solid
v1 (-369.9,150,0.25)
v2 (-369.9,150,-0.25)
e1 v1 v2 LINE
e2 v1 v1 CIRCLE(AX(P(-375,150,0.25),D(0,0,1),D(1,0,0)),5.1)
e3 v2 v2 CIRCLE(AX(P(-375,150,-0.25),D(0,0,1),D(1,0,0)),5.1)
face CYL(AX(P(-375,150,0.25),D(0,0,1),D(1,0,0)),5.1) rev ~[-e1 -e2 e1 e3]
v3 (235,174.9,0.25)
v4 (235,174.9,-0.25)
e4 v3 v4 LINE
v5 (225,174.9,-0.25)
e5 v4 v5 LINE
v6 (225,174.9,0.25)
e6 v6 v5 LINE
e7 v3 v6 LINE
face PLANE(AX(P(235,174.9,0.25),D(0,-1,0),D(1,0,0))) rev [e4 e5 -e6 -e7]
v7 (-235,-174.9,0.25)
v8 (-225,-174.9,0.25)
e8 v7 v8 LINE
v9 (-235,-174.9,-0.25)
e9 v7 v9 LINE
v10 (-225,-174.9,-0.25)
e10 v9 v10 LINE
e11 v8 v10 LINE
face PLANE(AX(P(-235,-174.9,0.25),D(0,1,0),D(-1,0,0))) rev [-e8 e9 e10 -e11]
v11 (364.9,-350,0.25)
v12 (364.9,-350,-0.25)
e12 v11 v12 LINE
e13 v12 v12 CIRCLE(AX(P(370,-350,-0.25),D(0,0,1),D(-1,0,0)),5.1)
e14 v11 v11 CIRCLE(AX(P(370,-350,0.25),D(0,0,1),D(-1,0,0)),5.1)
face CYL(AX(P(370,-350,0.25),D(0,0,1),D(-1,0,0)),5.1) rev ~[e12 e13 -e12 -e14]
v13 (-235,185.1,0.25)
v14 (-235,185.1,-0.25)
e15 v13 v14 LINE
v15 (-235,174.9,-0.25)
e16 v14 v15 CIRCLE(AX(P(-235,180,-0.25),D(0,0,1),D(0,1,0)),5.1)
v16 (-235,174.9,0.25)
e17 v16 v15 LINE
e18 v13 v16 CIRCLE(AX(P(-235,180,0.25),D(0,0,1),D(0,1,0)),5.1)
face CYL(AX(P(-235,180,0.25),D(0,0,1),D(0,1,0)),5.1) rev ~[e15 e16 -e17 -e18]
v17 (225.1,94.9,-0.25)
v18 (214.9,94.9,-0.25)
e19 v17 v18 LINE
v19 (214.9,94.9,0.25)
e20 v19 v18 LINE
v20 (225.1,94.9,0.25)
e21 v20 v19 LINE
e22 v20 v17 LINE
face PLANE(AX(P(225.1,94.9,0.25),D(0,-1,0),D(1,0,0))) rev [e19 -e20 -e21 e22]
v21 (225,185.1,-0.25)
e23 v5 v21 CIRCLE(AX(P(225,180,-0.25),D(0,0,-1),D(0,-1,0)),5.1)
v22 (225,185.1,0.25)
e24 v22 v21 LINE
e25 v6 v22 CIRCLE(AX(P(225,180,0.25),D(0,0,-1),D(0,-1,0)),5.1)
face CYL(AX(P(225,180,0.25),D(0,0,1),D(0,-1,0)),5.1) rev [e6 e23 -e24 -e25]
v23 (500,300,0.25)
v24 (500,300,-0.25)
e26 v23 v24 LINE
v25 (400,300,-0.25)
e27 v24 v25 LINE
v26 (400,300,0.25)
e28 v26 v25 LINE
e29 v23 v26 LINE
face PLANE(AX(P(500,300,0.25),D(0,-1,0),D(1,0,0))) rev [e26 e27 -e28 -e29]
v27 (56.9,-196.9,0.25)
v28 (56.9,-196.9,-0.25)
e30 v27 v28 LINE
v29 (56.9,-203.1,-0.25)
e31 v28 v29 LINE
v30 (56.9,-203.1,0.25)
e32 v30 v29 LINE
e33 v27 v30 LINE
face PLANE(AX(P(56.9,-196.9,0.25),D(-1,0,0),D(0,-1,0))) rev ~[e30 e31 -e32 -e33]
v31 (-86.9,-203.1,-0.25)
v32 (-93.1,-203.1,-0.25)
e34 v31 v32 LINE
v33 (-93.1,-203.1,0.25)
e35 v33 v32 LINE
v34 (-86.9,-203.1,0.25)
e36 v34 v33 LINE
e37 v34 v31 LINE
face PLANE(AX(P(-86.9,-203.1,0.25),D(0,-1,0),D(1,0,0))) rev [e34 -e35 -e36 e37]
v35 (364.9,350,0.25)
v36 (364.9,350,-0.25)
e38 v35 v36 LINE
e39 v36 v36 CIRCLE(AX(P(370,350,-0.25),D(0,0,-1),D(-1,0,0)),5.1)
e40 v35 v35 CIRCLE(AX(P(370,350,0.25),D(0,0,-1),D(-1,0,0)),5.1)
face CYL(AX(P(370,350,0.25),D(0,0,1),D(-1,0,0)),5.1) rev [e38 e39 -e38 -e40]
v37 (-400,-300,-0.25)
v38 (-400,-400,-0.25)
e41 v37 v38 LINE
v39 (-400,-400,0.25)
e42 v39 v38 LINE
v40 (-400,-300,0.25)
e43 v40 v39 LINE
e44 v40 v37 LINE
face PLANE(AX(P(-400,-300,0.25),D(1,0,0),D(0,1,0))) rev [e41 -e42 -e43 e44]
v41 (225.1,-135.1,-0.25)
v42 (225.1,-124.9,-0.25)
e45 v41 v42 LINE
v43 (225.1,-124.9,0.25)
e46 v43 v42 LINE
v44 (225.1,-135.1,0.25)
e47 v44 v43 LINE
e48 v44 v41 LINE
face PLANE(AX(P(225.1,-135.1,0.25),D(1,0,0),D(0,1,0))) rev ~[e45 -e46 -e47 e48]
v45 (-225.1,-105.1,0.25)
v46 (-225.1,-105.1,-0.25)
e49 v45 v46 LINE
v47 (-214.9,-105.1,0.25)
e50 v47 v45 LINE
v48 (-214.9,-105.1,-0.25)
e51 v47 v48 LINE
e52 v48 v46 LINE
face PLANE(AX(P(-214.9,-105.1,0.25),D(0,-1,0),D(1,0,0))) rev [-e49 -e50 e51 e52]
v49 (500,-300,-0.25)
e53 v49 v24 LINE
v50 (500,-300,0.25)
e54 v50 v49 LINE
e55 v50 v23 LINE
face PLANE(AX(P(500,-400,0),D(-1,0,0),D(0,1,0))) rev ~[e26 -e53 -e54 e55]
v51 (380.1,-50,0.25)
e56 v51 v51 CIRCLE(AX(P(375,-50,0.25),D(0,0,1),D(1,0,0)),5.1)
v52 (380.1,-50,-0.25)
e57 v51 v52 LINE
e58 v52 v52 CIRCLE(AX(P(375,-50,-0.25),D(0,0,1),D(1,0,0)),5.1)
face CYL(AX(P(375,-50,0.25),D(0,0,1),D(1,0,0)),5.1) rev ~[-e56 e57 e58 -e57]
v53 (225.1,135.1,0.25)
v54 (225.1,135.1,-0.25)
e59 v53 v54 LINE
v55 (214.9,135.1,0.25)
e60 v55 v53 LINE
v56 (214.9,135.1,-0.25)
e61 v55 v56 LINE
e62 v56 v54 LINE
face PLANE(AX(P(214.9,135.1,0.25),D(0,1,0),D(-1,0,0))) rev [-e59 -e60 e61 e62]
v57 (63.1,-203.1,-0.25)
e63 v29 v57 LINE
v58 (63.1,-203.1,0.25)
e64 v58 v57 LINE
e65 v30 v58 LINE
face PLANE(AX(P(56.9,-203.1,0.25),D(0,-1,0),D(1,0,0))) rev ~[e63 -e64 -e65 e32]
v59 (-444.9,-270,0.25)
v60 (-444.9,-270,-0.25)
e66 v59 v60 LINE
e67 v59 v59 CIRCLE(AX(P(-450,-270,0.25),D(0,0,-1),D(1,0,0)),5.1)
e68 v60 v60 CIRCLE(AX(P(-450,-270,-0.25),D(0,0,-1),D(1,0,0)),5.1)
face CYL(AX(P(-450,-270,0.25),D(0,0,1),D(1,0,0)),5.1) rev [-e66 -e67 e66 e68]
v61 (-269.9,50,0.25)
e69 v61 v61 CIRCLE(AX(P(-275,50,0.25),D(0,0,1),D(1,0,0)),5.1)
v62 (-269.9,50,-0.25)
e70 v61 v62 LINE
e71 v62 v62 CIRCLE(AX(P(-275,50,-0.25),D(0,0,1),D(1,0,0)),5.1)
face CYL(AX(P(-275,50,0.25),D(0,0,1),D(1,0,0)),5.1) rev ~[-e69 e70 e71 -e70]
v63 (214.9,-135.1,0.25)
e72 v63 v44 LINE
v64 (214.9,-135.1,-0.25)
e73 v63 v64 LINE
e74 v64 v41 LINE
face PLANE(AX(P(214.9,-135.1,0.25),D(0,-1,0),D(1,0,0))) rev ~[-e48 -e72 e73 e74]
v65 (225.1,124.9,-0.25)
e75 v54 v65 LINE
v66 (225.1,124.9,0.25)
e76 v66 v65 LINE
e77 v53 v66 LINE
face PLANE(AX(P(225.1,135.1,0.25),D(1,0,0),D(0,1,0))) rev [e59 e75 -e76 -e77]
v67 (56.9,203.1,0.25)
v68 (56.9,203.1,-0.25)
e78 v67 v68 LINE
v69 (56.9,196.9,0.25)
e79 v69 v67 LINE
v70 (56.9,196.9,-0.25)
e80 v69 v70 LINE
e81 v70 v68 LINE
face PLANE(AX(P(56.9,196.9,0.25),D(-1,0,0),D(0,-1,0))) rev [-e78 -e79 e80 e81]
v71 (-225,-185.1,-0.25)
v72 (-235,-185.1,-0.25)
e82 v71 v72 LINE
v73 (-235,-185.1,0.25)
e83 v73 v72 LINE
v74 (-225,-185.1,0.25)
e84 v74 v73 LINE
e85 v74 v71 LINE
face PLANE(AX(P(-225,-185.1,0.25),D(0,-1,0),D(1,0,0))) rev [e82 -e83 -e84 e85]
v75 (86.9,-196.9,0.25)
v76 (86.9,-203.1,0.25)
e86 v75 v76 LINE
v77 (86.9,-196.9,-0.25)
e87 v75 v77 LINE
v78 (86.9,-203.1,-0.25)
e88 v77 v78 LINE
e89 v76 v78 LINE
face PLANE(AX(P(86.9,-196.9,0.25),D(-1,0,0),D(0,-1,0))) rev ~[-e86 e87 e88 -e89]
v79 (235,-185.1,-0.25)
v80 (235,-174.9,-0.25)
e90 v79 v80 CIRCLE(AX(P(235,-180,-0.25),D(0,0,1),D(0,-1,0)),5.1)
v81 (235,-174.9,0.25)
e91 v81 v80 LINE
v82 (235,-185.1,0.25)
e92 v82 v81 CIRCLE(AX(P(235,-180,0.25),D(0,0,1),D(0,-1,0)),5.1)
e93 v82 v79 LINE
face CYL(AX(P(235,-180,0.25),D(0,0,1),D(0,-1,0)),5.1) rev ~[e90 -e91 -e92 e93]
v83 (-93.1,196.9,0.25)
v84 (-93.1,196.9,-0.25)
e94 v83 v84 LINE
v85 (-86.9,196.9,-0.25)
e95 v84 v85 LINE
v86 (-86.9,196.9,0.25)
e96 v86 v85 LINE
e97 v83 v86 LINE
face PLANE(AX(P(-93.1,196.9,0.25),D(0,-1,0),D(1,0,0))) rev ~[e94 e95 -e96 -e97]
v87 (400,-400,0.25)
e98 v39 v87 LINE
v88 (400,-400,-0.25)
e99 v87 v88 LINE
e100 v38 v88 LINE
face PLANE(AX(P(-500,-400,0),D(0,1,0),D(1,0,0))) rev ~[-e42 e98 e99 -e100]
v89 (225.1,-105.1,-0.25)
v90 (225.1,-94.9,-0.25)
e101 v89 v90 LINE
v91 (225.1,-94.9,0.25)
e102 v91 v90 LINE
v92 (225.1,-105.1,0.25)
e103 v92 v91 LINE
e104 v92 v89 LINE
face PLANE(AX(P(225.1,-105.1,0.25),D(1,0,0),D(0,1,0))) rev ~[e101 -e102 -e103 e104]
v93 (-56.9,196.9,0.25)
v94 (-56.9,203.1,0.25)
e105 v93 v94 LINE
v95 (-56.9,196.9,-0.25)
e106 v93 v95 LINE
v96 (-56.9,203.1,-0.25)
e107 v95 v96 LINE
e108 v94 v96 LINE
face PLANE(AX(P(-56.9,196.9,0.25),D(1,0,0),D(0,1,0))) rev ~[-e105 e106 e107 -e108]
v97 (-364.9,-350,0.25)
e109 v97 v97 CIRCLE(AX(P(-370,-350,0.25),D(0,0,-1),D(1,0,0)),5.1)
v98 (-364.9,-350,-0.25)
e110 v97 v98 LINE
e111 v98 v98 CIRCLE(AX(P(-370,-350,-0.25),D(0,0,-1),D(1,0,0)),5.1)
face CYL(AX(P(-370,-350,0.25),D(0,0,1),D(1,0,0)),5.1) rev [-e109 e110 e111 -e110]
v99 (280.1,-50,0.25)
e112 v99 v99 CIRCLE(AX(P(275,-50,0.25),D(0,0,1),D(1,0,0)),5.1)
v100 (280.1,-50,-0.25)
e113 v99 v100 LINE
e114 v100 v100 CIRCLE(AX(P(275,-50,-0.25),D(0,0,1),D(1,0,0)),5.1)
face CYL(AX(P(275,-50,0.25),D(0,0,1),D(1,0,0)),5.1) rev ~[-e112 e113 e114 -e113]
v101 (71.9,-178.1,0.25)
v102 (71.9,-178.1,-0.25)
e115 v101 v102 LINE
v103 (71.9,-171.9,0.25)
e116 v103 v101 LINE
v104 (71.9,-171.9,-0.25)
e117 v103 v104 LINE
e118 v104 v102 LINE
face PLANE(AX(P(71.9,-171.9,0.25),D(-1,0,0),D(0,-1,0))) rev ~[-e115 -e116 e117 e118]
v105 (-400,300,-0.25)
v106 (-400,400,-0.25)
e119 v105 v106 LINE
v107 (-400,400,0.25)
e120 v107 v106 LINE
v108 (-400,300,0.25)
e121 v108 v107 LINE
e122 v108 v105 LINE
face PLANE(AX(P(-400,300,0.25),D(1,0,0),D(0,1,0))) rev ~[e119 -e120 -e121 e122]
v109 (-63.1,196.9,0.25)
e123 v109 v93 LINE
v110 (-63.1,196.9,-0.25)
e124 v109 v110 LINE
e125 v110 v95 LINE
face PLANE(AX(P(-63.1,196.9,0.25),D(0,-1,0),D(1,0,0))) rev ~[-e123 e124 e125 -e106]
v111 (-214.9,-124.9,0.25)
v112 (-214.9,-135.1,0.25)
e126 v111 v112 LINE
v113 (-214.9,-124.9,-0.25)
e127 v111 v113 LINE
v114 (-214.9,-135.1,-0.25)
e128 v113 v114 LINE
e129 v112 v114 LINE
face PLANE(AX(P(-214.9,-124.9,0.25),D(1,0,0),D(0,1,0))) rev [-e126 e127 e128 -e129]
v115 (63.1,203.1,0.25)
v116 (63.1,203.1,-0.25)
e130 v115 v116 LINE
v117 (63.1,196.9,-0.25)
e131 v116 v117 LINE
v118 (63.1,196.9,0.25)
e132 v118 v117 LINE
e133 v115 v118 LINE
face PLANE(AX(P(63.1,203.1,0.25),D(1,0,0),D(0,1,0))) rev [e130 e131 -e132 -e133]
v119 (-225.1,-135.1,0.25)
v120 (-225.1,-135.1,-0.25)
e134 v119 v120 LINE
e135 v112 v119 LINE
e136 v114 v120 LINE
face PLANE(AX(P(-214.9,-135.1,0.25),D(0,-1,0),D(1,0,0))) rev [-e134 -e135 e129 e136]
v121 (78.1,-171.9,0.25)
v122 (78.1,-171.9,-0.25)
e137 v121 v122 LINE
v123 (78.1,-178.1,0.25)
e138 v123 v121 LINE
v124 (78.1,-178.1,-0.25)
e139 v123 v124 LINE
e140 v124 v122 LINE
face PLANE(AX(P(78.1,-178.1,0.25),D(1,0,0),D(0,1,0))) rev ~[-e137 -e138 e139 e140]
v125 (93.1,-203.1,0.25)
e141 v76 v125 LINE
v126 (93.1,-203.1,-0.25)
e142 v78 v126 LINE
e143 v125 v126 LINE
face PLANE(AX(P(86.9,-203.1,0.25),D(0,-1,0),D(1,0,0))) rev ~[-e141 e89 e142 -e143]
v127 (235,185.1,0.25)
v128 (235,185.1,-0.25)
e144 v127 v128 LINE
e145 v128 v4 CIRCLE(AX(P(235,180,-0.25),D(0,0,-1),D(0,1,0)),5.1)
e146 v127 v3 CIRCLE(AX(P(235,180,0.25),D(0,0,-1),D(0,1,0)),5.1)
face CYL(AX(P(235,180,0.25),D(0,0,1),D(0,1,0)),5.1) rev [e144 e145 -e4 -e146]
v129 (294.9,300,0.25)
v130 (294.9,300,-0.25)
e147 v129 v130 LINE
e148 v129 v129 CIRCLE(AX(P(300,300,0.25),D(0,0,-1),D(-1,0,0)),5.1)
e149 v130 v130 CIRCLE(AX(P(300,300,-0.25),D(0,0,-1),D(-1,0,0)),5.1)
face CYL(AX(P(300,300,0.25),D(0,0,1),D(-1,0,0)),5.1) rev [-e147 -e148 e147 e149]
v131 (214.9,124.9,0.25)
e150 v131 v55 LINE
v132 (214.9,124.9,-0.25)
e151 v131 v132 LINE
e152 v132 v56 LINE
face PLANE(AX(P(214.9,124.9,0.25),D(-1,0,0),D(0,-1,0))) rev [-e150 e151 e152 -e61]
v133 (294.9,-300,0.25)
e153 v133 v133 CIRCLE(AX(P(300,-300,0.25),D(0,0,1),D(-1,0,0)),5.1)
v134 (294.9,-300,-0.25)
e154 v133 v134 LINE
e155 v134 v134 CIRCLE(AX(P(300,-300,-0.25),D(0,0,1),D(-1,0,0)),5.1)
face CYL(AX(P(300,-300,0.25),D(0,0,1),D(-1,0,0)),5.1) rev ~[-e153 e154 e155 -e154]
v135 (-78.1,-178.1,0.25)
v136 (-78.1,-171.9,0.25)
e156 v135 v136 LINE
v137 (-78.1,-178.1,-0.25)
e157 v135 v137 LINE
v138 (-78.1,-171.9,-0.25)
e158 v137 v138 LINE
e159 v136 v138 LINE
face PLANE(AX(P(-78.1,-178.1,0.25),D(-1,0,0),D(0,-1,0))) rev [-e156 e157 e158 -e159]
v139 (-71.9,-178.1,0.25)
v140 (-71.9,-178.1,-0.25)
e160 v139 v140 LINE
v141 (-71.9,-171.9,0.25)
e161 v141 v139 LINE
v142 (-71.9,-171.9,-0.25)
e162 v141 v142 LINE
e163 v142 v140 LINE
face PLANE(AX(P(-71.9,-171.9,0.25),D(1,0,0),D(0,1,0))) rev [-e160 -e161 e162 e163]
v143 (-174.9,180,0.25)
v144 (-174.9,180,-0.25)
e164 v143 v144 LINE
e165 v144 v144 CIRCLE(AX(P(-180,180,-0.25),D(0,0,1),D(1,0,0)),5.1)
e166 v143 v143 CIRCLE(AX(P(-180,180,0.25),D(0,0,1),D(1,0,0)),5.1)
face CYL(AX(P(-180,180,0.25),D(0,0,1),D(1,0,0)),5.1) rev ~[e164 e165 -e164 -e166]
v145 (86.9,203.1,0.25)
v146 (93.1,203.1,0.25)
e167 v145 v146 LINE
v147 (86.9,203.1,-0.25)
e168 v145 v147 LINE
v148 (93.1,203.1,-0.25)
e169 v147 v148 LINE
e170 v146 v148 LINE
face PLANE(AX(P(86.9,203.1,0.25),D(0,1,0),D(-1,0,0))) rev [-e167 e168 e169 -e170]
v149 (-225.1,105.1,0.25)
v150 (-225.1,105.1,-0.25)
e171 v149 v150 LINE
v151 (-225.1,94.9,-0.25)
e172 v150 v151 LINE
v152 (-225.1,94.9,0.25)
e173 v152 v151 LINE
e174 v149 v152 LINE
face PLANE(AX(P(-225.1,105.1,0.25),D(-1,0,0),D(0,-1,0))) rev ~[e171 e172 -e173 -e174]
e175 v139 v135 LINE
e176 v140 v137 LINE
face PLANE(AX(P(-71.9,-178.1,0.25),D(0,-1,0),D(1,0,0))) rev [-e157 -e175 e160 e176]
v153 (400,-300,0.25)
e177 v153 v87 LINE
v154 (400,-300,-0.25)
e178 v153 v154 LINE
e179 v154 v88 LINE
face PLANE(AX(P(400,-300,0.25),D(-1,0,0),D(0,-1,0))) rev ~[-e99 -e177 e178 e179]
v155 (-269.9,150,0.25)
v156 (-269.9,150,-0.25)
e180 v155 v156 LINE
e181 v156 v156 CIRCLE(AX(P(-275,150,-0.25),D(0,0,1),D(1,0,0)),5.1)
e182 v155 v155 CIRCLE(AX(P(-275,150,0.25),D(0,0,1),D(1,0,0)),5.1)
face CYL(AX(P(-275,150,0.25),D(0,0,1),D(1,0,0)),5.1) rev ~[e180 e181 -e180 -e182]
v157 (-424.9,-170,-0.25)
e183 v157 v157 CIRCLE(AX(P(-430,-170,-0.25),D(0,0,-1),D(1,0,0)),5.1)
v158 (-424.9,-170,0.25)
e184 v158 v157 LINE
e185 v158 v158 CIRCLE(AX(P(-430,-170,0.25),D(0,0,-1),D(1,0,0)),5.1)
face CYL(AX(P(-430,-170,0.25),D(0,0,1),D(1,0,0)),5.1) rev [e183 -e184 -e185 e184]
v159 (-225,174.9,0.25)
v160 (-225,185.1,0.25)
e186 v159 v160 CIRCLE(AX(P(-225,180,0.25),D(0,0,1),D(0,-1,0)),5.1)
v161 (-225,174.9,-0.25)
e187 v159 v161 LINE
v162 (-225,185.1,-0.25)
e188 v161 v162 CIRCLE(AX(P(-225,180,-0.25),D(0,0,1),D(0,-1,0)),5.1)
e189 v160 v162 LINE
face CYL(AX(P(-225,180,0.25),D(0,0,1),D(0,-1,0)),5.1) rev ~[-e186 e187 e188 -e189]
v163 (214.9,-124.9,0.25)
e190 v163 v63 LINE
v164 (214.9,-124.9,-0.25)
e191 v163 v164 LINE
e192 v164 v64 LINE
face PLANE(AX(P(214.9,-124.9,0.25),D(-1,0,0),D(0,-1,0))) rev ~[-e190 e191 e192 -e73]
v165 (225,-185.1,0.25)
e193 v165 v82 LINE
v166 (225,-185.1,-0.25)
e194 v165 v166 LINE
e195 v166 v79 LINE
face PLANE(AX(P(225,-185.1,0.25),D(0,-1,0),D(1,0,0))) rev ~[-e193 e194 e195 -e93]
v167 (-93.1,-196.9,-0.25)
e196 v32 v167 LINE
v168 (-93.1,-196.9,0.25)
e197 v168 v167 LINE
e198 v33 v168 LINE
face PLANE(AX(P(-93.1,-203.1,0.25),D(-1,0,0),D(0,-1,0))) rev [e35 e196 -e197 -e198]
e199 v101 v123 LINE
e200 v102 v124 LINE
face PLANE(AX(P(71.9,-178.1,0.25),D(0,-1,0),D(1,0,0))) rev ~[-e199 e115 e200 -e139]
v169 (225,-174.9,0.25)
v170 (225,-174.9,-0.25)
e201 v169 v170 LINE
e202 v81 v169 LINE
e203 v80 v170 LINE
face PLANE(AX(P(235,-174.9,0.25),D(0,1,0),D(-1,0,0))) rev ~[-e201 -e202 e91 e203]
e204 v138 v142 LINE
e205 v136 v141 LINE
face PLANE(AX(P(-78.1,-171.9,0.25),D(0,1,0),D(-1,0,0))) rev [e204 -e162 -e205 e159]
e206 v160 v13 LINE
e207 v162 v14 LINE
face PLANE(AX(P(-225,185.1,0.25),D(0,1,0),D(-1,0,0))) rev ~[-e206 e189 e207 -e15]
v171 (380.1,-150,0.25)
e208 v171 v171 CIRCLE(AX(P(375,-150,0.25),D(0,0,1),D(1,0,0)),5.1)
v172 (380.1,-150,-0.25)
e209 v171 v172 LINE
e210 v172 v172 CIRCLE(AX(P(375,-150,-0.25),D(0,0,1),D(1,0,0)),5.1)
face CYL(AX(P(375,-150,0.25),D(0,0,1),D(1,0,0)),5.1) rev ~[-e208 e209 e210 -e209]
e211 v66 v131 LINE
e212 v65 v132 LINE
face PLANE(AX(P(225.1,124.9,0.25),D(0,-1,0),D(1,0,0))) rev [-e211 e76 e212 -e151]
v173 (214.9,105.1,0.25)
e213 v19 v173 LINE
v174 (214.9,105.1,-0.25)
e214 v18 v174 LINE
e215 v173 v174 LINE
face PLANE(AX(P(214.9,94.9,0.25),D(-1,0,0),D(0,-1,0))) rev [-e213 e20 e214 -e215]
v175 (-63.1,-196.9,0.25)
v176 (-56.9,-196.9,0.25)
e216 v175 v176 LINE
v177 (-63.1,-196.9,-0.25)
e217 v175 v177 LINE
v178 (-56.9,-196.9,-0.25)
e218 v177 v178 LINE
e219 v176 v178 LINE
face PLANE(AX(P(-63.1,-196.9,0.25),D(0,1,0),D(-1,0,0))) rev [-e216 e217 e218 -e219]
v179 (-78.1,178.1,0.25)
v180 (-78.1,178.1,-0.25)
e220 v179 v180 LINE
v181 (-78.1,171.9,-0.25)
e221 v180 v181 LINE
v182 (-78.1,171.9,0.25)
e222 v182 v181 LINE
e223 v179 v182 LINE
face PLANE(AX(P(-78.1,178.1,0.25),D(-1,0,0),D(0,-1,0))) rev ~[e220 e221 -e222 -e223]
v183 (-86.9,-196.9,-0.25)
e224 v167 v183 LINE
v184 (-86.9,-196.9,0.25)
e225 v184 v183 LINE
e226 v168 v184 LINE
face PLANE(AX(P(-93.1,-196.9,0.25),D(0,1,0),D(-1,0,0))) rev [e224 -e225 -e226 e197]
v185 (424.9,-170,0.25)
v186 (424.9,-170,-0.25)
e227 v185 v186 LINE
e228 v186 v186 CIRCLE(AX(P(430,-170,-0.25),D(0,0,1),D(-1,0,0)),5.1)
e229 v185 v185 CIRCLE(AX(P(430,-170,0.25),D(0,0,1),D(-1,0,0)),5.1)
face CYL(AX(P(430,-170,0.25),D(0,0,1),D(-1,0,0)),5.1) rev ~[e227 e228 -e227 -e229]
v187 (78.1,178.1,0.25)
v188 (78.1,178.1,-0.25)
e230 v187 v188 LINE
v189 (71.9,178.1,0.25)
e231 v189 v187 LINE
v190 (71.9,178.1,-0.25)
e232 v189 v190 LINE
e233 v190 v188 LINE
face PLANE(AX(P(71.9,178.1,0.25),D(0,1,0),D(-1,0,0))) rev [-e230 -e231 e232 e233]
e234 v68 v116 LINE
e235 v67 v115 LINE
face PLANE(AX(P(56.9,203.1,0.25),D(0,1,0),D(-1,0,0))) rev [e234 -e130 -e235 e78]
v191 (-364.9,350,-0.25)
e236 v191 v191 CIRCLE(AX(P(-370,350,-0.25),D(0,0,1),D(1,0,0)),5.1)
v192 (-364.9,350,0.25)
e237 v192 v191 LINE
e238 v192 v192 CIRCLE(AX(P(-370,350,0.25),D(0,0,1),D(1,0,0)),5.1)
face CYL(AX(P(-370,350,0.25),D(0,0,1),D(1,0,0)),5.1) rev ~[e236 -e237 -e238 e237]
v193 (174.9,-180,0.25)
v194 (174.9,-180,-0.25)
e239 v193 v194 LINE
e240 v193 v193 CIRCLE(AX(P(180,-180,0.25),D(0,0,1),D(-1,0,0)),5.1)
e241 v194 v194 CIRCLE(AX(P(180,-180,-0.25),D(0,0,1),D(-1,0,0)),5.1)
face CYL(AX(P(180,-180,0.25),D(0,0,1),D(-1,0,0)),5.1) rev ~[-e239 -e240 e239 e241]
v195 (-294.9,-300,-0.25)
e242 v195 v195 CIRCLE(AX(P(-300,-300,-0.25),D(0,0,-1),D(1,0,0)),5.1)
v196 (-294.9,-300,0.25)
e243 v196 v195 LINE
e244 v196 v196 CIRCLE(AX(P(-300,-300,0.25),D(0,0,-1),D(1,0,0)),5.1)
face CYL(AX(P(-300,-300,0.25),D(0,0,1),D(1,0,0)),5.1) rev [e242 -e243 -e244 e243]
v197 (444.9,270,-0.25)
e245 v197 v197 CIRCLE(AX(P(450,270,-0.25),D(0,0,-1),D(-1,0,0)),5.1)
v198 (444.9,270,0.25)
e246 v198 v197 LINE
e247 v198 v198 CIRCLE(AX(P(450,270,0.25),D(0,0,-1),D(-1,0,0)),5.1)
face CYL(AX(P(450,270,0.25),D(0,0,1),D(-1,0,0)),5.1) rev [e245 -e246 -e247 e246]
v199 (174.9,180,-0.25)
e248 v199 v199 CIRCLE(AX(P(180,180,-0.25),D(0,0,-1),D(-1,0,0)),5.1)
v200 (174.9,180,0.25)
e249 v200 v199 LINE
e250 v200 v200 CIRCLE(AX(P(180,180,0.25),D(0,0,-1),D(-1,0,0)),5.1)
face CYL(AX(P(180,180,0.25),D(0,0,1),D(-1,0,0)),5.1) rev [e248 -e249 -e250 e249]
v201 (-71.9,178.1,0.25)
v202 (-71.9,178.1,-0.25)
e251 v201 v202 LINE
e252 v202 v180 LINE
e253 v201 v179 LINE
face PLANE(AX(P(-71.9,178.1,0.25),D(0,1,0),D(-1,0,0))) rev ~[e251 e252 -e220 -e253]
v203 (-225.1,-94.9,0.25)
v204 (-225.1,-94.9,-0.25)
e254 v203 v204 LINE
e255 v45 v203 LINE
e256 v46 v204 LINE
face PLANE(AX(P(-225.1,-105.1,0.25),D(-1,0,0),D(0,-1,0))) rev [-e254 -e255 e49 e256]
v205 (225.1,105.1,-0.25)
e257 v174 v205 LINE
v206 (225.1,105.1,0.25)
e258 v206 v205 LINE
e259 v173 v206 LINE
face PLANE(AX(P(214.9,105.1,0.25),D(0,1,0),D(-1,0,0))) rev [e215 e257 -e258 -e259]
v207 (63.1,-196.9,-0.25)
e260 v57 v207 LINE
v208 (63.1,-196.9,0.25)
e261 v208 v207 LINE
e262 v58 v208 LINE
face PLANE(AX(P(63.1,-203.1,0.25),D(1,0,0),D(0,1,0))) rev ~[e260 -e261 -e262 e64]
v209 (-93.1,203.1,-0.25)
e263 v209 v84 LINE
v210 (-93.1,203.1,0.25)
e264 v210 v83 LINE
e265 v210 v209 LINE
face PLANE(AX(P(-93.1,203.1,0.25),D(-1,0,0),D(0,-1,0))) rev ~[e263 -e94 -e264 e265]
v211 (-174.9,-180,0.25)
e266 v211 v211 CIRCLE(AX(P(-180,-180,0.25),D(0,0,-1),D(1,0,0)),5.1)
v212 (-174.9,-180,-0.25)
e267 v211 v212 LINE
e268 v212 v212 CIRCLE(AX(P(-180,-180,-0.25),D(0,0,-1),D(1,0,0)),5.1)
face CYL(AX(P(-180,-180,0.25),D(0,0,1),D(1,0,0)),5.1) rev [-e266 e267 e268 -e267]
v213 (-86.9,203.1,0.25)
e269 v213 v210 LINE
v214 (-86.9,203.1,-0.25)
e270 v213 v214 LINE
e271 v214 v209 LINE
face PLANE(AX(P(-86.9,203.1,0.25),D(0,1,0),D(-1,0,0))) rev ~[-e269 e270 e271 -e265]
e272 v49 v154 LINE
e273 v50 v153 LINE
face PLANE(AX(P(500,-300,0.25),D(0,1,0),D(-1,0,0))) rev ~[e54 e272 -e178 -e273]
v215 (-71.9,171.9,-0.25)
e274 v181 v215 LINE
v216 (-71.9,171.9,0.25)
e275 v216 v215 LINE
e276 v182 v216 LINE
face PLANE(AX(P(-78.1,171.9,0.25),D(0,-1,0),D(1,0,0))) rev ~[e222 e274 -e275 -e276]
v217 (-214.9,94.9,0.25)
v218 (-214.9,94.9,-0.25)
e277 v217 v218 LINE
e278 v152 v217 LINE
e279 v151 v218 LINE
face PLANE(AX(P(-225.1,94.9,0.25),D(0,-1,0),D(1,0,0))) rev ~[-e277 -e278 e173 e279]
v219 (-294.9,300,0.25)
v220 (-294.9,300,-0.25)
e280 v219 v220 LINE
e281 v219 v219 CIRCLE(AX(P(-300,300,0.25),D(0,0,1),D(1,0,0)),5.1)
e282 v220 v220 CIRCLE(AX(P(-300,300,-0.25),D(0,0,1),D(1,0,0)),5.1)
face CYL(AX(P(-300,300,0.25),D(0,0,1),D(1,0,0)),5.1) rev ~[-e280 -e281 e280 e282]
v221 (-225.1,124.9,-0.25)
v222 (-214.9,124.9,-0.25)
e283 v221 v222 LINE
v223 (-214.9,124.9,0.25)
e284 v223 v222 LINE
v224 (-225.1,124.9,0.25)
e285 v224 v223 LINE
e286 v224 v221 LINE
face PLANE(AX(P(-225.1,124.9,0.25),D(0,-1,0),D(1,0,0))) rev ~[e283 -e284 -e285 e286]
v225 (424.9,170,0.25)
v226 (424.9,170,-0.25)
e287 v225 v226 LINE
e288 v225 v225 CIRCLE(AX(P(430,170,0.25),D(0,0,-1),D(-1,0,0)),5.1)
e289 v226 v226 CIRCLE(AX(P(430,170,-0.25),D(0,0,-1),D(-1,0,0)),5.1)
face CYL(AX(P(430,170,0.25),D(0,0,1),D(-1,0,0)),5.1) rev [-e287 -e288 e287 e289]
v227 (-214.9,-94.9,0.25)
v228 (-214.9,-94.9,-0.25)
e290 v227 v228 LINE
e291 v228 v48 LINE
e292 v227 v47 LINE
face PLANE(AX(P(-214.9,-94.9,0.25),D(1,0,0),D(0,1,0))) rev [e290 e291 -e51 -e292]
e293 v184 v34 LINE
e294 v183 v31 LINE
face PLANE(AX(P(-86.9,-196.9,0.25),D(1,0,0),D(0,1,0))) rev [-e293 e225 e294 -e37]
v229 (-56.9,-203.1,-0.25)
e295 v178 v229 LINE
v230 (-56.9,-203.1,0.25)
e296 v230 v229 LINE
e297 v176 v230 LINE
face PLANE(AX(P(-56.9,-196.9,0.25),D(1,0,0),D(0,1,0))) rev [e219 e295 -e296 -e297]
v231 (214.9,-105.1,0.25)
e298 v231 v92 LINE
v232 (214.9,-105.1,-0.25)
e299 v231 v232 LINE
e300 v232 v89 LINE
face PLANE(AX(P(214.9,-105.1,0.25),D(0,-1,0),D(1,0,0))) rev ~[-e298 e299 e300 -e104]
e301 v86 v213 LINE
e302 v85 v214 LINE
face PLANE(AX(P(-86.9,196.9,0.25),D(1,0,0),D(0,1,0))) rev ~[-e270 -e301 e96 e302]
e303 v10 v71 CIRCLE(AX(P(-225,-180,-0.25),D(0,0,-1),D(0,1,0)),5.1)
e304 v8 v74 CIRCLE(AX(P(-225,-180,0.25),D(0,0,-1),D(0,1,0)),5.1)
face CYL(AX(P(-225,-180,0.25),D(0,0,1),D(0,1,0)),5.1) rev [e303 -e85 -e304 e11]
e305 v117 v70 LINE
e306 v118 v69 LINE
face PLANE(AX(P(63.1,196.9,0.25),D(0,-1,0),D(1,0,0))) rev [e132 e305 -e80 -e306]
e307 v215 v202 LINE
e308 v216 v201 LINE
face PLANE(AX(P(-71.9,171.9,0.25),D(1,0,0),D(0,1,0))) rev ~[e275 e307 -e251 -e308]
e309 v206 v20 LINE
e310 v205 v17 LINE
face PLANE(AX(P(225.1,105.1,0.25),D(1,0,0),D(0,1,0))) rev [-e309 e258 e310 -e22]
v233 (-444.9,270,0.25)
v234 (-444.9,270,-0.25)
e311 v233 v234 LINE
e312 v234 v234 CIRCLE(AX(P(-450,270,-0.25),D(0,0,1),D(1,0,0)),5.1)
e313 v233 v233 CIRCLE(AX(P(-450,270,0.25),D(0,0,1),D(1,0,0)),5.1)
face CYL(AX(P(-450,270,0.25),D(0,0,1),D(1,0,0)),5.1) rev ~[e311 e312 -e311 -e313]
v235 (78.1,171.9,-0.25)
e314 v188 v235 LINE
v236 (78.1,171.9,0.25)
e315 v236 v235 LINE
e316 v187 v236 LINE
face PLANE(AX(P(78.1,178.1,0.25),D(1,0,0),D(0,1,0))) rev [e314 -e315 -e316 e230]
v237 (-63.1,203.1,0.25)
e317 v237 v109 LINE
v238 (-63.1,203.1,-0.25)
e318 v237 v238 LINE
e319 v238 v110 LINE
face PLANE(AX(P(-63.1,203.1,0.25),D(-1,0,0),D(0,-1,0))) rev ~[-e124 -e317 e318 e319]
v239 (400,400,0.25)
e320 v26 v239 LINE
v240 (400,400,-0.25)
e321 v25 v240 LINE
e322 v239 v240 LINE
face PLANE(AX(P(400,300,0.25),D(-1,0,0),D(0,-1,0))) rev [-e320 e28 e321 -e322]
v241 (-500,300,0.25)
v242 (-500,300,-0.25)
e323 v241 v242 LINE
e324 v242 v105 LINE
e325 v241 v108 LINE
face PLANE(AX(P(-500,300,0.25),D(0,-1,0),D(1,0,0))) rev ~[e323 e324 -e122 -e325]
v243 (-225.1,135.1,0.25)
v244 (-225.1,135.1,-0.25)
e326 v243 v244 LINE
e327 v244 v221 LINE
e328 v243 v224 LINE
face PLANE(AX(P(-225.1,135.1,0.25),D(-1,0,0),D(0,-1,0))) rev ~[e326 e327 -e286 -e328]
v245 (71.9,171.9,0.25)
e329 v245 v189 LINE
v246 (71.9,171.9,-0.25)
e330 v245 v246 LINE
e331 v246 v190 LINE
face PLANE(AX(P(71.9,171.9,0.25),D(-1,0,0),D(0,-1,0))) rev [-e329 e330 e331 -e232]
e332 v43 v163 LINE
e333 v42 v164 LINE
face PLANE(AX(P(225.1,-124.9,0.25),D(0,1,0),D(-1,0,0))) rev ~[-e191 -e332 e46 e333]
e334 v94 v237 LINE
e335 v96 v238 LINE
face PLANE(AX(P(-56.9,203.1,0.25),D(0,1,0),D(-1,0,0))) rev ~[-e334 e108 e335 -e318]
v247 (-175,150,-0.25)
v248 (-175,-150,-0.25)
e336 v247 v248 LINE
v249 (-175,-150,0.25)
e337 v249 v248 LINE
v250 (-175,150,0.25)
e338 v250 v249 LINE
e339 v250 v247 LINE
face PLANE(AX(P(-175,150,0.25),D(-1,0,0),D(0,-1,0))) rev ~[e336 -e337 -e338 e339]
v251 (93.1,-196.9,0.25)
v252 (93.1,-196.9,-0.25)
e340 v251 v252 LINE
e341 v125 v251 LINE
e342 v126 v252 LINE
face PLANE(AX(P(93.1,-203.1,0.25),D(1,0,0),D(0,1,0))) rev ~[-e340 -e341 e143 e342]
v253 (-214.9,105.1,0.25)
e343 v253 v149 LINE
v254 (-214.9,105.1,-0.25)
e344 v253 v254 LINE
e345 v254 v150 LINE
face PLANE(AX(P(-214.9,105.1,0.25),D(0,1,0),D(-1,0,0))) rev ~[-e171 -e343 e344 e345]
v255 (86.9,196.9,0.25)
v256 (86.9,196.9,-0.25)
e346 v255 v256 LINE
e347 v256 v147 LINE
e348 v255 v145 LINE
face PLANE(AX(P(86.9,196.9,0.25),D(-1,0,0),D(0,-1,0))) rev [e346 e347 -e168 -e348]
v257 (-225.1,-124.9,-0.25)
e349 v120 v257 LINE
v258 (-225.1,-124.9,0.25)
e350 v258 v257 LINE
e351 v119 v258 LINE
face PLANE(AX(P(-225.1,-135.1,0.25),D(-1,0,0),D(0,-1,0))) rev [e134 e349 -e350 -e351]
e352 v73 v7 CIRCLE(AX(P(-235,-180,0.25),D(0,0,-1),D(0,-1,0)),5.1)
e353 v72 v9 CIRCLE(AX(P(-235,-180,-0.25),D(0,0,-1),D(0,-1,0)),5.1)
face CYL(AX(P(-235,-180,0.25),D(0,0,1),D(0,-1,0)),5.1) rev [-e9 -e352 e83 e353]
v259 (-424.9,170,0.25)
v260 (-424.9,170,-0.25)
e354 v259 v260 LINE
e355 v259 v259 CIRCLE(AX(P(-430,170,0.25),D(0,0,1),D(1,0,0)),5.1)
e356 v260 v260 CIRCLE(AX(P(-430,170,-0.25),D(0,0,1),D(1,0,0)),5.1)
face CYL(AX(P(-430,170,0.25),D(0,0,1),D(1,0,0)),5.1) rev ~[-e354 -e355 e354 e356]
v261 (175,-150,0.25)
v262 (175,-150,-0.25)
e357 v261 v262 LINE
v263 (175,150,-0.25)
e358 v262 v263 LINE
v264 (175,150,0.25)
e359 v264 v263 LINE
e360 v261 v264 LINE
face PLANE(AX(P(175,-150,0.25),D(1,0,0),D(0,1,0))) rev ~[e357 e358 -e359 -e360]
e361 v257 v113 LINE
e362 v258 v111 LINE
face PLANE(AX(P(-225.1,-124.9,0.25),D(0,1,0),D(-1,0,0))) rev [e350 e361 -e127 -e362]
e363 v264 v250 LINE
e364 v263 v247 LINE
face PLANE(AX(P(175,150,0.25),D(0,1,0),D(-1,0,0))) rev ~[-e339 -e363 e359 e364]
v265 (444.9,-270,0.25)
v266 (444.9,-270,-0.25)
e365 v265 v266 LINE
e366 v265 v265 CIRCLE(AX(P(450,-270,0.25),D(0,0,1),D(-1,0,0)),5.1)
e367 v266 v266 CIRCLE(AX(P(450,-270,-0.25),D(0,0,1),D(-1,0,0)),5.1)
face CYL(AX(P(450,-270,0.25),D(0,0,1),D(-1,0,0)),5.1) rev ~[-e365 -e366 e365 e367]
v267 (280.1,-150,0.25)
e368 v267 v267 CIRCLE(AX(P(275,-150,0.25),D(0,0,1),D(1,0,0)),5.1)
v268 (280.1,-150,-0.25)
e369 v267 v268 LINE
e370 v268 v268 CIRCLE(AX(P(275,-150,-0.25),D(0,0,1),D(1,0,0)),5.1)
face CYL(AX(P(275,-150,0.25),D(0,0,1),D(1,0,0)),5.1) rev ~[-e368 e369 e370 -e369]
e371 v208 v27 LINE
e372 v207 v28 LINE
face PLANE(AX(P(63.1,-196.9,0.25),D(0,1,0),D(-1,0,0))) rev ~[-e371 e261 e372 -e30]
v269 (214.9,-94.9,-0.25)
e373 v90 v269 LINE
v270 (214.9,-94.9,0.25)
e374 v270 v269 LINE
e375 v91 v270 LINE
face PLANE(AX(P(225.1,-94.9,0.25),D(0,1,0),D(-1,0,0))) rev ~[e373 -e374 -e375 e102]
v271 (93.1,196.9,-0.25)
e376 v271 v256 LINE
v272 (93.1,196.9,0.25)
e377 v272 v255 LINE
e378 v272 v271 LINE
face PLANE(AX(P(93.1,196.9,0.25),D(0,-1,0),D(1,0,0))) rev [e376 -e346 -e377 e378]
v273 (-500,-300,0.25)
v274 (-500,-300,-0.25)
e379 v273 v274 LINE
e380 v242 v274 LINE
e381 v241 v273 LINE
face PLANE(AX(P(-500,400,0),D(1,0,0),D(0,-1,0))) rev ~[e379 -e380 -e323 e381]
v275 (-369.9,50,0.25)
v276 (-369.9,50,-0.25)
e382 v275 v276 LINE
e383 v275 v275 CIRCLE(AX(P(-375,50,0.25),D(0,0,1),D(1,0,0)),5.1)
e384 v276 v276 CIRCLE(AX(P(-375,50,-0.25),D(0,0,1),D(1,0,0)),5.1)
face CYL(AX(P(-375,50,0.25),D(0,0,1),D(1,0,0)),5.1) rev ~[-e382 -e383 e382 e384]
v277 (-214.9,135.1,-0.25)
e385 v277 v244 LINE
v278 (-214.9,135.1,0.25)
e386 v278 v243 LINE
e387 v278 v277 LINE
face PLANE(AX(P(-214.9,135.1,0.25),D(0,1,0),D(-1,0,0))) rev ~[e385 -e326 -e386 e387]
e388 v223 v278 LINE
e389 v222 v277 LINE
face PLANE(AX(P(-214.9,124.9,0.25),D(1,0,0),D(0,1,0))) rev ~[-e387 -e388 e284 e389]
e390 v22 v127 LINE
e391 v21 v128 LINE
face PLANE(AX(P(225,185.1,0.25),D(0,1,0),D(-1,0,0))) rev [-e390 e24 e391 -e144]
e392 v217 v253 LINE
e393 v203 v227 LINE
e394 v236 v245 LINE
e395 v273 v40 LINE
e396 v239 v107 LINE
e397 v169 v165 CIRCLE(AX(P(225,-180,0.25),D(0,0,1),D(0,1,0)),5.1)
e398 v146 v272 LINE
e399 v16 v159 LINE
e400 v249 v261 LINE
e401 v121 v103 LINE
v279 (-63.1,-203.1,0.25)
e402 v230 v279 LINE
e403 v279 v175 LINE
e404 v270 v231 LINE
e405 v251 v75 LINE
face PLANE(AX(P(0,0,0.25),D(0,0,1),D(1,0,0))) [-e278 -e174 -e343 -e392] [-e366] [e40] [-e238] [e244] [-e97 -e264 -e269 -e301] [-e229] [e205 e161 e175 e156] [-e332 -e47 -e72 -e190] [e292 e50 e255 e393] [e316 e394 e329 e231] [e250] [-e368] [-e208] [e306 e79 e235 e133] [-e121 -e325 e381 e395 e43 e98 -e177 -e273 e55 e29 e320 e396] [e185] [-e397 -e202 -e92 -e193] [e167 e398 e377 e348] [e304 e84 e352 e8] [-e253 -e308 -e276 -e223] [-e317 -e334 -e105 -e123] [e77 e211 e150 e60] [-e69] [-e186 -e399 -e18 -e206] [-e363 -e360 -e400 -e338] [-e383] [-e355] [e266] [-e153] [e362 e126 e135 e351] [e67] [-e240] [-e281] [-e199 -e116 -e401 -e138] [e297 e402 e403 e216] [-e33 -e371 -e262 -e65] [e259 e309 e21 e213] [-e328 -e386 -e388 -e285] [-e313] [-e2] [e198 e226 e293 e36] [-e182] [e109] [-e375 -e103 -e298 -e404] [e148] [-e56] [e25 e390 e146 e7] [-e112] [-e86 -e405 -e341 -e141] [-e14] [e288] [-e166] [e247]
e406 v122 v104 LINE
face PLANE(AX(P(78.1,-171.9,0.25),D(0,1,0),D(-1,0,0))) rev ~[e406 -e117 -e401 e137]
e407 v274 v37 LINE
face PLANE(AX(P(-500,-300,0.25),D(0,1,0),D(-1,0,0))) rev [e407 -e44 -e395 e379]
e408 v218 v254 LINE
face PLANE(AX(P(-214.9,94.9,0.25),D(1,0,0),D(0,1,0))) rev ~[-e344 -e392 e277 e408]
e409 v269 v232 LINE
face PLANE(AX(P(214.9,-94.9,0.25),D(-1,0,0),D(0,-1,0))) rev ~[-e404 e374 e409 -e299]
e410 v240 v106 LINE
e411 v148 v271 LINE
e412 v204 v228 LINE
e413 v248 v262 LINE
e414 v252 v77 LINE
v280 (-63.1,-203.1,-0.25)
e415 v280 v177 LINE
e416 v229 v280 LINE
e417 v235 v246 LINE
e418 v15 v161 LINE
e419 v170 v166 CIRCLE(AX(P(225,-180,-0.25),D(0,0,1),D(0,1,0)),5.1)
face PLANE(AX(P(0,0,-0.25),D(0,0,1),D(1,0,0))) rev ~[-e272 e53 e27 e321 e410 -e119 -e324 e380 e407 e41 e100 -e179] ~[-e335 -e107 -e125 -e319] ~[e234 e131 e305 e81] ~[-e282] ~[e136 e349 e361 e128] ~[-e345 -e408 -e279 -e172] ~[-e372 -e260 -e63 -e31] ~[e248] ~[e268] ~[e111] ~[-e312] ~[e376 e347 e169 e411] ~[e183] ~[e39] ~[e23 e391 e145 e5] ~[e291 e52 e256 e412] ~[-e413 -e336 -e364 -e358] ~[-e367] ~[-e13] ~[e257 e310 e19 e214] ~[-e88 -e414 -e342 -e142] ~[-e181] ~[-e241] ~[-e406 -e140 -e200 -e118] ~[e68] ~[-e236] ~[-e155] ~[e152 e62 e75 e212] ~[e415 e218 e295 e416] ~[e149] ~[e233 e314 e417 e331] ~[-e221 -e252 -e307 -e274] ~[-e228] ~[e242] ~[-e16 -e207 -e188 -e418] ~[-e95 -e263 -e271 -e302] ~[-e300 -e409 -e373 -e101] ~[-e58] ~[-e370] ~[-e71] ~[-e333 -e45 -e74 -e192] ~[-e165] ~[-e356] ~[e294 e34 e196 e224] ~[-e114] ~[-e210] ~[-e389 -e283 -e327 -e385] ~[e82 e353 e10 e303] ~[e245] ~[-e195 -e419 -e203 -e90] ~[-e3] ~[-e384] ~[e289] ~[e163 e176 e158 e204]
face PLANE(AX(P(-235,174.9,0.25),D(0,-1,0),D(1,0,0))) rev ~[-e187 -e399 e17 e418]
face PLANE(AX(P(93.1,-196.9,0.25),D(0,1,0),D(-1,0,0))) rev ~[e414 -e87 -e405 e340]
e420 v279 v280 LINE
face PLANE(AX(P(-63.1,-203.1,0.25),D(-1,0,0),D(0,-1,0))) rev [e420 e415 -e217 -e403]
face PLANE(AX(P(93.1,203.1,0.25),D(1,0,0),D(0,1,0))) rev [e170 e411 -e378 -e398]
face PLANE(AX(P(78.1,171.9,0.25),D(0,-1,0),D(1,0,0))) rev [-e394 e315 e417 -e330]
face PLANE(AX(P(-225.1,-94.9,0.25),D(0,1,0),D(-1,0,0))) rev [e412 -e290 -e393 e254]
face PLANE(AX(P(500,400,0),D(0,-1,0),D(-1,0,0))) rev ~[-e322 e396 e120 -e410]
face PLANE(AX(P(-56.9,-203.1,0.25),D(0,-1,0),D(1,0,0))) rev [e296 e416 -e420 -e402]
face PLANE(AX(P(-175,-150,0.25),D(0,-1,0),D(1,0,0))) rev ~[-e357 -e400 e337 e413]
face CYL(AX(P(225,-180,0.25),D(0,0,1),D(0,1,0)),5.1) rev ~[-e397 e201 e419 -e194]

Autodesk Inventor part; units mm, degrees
ref_plane "YZ Plane" through (0, 0, 0) normal (1, 0, 0) x (0, 1, 0)
ref_plane "XZ Plane" through (0, 0, 0) normal (0, 1, 0) x (-1, 0, 0)
ref_plane "XY Plane" through (0, 0, 0) normal (0, 0, 1) x (1, 0, 0)
sketch "Sketch1" plane through (0, 0, 0) normal (0, 0, 1) x (1, 0, 0)
  line L0 (-500, -400) -> (500, -400)
  line L1 (500, -400) -> (500, 400)
  line L2 (500, 400) -> (-500, 400)
  line L3 (-500, 400) -> (-500, -400)
  line L4 (-500, -400) -> (500, 400) construction
  line L5 (500, -400) -> (-500, 400) construction
  point P0 (0, 0)
  dimension "d0" = 1000
  dimension "d1" = 800
extrude "Plate1" add sketch "Sketch1" along normal mid plane 0.5
sketch "Sketch2" plane through (0, 0, 0.25) normal (0, 0, 1) x (1, 0, 0)
  line L0 (-175, -150) -> (175, -150)
  line L1 (175, -150) -> (175, 150)
  line L2 (175, 150) -> (-175, 150)
  line L3 (-175, 150) -> (-175, -150)
  line L4 (-175, -150) -> (175, 150) construction
  line L5 (175, -150) -> (-175, 150) construction
  point P0 (0, 0)
  dimension "d3" = 350
  dimension "d4" = 300
extrude "Cut1" cut sketch "Sketch2" against normal blind 0.5
sketch "Sketch3" plane through (0, 0, 0.25) normal (0, 0, 1) x (1, 0, 0)
  line L0 (-500, 300) -> (-400, 300)
  line L1 (-400, 300) -> (-400, 400)
  line L2 (-400, 400) -> (-500, 400)
  line L3 (-500, 400) -> (-500, 300)
  line L4 (-500, 300) -> (-400, 400) construction
  line L5 (-400, 300) -> (-500, 400) construction
  circle A0 centre (-450, 270) radius 5.1
  circle A1 centre (-370, 350) radius 5.1
  line L6 (-78.1, 171.9) -> (-71.9, 171.9)
  line L7 (-71.9, 171.9) -> (-71.9, 178.1)
  line L8 (-71.9, 178.1) -> (-78.1, 178.1)
  line L9 (-78.1, 178.1) -> (-78.1, 171.9)
  line L10 (-78.1, 171.9) -> (-71.9, 178.1) construction
  line L11 (-71.9, 171.9) -> (-78.1, 178.1) construction
  line L12 (-75, 175) -> (-75, 200) construction
  line L13 (-90, 200) -> (-60, 200) construction
  line L14 (-93.1, 196.9) -> (-86.9, 196.9)
  line L15 (-86.9, 196.9) -> (-86.9, 203.1)
  line L16 (-86.9, 203.1) -> (-93.1, 203.1)
  line L17 (-93.1, 203.1) -> (-93.1, 196.9)
  line L18 (-93.1, 196.9) -> (-86.9, 203.1) construction
  line L19 (-86.9, 196.9) -> (-93.1, 203.1) construction
  line L20 (-63.1, 196.9) -> (-56.9, 196.9)
  line L21 (-56.9, 196.9) -> (-56.9, 203.1)
  line L22 (-56.9, 203.1) -> (-63.1, 203.1)
  line L23 (-63.1, 203.1) -> (-63.1, 196.9)
  line L24 (-63.1, 196.9) -> (-56.9, 203.1) construction
  line L25 (-56.9, 196.9) -> (-63.1, 203.1) construction
  circle A2 centre (-430, 170) radius 5.1
  circle A3 centre (-300, 300) radius 5.1
  line L26 (-235, 180) -> (-225, 180) construction
  line L27 (-235, 174.9) -> (-225, 174.9)
  line L28 (-225, 185.1) -> (-235, 185.1)
  arc A4 (-235, 185.1) -> (-235, 174.9) centre (-235, 180) ccw
  arc A5 (-225, 174.9) -> (-225, 185.1) centre (-225, 180) ccw
  circle A6 centre (-180, 180) radius 5.1
  circle A7 centre (-220, 130) radius 5.1 construction
  circle A8 centre (-220, 100) radius 5.1 construction
  line L29 (-225.1, 124.9) -> (-214.9, 124.9)
  line L30 (-214.9, 124.9) -> (-214.9, 135.1)
  line L31 (-214.9, 135.1) -> (-225.1, 135.1)
  line L32 (-225.1, 135.1) -> (-225.1, 124.9)
  line L33 (-225.1, 124.9) -> (-214.9, 135.1) construction
  line L34 (-214.9, 124.9) -> (-225.1, 135.1) construction
  line L35 (-225.1, 94.9) -> (-214.9, 94.9)
  line L36 (-214.9, 94.9) -> (-214.9, 105.1)
  line L37 (-214.9, 105.1) -> (-225.1, 105.1)
  line L38 (-225.1, 105.1) -> (-225.1, 94.9)
  line L39 (-225.1, 94.9) -> (-214.9, 105.1) construction
  line L40 (-214.9, 94.9) -> (-225.1, 105.1) construction
  point P0 (0, 0)
  point P1 (-450, 350)
  point P2 (-450, 350)
  point P3 (-450, 350)
  point P4 (-230, 180)
  dimension "d7" = 100
  dimension "d10" = 10.2
  dimension "d11" = 30
  dimension "d12" = 30
  dimension "d30" = 175
  dimension "d31" = 75
  dimension "d32" = 6.2
  dimension "d33" = 25
  dimension "d34" = 30
  dimension "d38" = 430
  dimension "d39" = 170
  dimension "d40" = 10.2
  dimension "d44" = 300
  dimension "d45" = 300
  dimension "d46" = 10.2
  dimension "d47" = 230
  dimension "d48" = 180
  dimension "d49" = 10
  dimension "d50" = 10.2
  dimension "d52" = 180
  dimension "d53" = 180
  dimension "d54" = 10.2
  dimension "d59" = 220
  dimension "d60" = 30
  dimension "d61" = 10.2
  dimension "d62" = 100
extrude "Cut2" cut sketch "Sketch3" against normal blind 0.5
mirror "Mirror1" about plane through (0, 0, 0) normal (1, 0, 0) of "Cut2"
mirror "Mirror2" about plane through (0, 0, 0) normal (0, 1, 0) of "Cut2", "Mirror1"
sketch "Sketch5" plane through (0, 0, 0.25) normal (0, 0, 1) x (1, 0, 0)
  circle A0 centre (-275, 150) radius 5.1
  circle A1 centre (-375, 150) radius 5.1
  circle A2 centre (-375, 50) radius 5.1
  circle A3 centre (-275, 50) radius 5.1
  line L0 (-375, 150) -> (-275, 150) construction
  line L1 (-275, 150) -> (-275, 50) construction
  line L2 (-275, 50) -> (-375, 50) construction
  line L3 (-375, 50) -> (-375, 150) construction
  line L4 (-375, 150) -> (-275, 50) construction
  line L5 (-275, 150) -> (-375, 50) construction
  line L6 (275, -50) -> (375, -50) construction
  line L7 (375, -50) -> (375, -150) construction
  line L8 (375, -150) -> (275, -150) construction
  line L9 (275, -150) -> (275, -50) construction
  line L10 (275, -50) -> (375, -150) construction
  line L11 (375, -50) -> (275, -150) construction
  circle A4 centre (275, -50) radius 5.1
  circle A5 centre (375, -50) radius 5.1
  circle A6 centre (275, -150) radius 5.1
  circle A7 centre (375, -150) radius 5.1
  point P0 (0, 0)
  point P1 (-325, 100)
  point P2 (325, -100)
  dimension "d18" = 10.2
  dimension "d19" = 325
  dimension "d20" = 100
  dimension "d21" = 100
  dimension "d22" = 100
  dimension "d23" = 100
  dimension "d24" = 325
extrude "Cut4" cut sketch "Sketch5" against normal blind 0.5
equation "\"d5\" = Thickness"
equation "\"d12\" = d11"
equation "\"d8\" = Thickness"
equation "\"d22\" = d21"
equation "\"d23\" = d20"
equation "\"d24\" = d19"
equation "\"d25\" = Thickness"
equation "\"d2\" = Thickness"
equation "\"BendRadius\" = Thickness"
equation "\"BendReliefWidth\" = Thickness"
equation "\"BendReliefDepth\" = 0.5 * Thickness"
equation "\"CornerReliefSize\" = 4 * Thickness"
equation "\"MinimumRemnant\" = 2 * Thickness"
equation "\"TransitionRadius\" = BendRadius"
equation "\"JacobiRadiusSize\" = BendRadius"
equation "\"GapSize\" = Thickness"
equation "\"Thickness\" = 0.5"
properties part number "Chapa-0001-002" material "Steel, Galvanized"
